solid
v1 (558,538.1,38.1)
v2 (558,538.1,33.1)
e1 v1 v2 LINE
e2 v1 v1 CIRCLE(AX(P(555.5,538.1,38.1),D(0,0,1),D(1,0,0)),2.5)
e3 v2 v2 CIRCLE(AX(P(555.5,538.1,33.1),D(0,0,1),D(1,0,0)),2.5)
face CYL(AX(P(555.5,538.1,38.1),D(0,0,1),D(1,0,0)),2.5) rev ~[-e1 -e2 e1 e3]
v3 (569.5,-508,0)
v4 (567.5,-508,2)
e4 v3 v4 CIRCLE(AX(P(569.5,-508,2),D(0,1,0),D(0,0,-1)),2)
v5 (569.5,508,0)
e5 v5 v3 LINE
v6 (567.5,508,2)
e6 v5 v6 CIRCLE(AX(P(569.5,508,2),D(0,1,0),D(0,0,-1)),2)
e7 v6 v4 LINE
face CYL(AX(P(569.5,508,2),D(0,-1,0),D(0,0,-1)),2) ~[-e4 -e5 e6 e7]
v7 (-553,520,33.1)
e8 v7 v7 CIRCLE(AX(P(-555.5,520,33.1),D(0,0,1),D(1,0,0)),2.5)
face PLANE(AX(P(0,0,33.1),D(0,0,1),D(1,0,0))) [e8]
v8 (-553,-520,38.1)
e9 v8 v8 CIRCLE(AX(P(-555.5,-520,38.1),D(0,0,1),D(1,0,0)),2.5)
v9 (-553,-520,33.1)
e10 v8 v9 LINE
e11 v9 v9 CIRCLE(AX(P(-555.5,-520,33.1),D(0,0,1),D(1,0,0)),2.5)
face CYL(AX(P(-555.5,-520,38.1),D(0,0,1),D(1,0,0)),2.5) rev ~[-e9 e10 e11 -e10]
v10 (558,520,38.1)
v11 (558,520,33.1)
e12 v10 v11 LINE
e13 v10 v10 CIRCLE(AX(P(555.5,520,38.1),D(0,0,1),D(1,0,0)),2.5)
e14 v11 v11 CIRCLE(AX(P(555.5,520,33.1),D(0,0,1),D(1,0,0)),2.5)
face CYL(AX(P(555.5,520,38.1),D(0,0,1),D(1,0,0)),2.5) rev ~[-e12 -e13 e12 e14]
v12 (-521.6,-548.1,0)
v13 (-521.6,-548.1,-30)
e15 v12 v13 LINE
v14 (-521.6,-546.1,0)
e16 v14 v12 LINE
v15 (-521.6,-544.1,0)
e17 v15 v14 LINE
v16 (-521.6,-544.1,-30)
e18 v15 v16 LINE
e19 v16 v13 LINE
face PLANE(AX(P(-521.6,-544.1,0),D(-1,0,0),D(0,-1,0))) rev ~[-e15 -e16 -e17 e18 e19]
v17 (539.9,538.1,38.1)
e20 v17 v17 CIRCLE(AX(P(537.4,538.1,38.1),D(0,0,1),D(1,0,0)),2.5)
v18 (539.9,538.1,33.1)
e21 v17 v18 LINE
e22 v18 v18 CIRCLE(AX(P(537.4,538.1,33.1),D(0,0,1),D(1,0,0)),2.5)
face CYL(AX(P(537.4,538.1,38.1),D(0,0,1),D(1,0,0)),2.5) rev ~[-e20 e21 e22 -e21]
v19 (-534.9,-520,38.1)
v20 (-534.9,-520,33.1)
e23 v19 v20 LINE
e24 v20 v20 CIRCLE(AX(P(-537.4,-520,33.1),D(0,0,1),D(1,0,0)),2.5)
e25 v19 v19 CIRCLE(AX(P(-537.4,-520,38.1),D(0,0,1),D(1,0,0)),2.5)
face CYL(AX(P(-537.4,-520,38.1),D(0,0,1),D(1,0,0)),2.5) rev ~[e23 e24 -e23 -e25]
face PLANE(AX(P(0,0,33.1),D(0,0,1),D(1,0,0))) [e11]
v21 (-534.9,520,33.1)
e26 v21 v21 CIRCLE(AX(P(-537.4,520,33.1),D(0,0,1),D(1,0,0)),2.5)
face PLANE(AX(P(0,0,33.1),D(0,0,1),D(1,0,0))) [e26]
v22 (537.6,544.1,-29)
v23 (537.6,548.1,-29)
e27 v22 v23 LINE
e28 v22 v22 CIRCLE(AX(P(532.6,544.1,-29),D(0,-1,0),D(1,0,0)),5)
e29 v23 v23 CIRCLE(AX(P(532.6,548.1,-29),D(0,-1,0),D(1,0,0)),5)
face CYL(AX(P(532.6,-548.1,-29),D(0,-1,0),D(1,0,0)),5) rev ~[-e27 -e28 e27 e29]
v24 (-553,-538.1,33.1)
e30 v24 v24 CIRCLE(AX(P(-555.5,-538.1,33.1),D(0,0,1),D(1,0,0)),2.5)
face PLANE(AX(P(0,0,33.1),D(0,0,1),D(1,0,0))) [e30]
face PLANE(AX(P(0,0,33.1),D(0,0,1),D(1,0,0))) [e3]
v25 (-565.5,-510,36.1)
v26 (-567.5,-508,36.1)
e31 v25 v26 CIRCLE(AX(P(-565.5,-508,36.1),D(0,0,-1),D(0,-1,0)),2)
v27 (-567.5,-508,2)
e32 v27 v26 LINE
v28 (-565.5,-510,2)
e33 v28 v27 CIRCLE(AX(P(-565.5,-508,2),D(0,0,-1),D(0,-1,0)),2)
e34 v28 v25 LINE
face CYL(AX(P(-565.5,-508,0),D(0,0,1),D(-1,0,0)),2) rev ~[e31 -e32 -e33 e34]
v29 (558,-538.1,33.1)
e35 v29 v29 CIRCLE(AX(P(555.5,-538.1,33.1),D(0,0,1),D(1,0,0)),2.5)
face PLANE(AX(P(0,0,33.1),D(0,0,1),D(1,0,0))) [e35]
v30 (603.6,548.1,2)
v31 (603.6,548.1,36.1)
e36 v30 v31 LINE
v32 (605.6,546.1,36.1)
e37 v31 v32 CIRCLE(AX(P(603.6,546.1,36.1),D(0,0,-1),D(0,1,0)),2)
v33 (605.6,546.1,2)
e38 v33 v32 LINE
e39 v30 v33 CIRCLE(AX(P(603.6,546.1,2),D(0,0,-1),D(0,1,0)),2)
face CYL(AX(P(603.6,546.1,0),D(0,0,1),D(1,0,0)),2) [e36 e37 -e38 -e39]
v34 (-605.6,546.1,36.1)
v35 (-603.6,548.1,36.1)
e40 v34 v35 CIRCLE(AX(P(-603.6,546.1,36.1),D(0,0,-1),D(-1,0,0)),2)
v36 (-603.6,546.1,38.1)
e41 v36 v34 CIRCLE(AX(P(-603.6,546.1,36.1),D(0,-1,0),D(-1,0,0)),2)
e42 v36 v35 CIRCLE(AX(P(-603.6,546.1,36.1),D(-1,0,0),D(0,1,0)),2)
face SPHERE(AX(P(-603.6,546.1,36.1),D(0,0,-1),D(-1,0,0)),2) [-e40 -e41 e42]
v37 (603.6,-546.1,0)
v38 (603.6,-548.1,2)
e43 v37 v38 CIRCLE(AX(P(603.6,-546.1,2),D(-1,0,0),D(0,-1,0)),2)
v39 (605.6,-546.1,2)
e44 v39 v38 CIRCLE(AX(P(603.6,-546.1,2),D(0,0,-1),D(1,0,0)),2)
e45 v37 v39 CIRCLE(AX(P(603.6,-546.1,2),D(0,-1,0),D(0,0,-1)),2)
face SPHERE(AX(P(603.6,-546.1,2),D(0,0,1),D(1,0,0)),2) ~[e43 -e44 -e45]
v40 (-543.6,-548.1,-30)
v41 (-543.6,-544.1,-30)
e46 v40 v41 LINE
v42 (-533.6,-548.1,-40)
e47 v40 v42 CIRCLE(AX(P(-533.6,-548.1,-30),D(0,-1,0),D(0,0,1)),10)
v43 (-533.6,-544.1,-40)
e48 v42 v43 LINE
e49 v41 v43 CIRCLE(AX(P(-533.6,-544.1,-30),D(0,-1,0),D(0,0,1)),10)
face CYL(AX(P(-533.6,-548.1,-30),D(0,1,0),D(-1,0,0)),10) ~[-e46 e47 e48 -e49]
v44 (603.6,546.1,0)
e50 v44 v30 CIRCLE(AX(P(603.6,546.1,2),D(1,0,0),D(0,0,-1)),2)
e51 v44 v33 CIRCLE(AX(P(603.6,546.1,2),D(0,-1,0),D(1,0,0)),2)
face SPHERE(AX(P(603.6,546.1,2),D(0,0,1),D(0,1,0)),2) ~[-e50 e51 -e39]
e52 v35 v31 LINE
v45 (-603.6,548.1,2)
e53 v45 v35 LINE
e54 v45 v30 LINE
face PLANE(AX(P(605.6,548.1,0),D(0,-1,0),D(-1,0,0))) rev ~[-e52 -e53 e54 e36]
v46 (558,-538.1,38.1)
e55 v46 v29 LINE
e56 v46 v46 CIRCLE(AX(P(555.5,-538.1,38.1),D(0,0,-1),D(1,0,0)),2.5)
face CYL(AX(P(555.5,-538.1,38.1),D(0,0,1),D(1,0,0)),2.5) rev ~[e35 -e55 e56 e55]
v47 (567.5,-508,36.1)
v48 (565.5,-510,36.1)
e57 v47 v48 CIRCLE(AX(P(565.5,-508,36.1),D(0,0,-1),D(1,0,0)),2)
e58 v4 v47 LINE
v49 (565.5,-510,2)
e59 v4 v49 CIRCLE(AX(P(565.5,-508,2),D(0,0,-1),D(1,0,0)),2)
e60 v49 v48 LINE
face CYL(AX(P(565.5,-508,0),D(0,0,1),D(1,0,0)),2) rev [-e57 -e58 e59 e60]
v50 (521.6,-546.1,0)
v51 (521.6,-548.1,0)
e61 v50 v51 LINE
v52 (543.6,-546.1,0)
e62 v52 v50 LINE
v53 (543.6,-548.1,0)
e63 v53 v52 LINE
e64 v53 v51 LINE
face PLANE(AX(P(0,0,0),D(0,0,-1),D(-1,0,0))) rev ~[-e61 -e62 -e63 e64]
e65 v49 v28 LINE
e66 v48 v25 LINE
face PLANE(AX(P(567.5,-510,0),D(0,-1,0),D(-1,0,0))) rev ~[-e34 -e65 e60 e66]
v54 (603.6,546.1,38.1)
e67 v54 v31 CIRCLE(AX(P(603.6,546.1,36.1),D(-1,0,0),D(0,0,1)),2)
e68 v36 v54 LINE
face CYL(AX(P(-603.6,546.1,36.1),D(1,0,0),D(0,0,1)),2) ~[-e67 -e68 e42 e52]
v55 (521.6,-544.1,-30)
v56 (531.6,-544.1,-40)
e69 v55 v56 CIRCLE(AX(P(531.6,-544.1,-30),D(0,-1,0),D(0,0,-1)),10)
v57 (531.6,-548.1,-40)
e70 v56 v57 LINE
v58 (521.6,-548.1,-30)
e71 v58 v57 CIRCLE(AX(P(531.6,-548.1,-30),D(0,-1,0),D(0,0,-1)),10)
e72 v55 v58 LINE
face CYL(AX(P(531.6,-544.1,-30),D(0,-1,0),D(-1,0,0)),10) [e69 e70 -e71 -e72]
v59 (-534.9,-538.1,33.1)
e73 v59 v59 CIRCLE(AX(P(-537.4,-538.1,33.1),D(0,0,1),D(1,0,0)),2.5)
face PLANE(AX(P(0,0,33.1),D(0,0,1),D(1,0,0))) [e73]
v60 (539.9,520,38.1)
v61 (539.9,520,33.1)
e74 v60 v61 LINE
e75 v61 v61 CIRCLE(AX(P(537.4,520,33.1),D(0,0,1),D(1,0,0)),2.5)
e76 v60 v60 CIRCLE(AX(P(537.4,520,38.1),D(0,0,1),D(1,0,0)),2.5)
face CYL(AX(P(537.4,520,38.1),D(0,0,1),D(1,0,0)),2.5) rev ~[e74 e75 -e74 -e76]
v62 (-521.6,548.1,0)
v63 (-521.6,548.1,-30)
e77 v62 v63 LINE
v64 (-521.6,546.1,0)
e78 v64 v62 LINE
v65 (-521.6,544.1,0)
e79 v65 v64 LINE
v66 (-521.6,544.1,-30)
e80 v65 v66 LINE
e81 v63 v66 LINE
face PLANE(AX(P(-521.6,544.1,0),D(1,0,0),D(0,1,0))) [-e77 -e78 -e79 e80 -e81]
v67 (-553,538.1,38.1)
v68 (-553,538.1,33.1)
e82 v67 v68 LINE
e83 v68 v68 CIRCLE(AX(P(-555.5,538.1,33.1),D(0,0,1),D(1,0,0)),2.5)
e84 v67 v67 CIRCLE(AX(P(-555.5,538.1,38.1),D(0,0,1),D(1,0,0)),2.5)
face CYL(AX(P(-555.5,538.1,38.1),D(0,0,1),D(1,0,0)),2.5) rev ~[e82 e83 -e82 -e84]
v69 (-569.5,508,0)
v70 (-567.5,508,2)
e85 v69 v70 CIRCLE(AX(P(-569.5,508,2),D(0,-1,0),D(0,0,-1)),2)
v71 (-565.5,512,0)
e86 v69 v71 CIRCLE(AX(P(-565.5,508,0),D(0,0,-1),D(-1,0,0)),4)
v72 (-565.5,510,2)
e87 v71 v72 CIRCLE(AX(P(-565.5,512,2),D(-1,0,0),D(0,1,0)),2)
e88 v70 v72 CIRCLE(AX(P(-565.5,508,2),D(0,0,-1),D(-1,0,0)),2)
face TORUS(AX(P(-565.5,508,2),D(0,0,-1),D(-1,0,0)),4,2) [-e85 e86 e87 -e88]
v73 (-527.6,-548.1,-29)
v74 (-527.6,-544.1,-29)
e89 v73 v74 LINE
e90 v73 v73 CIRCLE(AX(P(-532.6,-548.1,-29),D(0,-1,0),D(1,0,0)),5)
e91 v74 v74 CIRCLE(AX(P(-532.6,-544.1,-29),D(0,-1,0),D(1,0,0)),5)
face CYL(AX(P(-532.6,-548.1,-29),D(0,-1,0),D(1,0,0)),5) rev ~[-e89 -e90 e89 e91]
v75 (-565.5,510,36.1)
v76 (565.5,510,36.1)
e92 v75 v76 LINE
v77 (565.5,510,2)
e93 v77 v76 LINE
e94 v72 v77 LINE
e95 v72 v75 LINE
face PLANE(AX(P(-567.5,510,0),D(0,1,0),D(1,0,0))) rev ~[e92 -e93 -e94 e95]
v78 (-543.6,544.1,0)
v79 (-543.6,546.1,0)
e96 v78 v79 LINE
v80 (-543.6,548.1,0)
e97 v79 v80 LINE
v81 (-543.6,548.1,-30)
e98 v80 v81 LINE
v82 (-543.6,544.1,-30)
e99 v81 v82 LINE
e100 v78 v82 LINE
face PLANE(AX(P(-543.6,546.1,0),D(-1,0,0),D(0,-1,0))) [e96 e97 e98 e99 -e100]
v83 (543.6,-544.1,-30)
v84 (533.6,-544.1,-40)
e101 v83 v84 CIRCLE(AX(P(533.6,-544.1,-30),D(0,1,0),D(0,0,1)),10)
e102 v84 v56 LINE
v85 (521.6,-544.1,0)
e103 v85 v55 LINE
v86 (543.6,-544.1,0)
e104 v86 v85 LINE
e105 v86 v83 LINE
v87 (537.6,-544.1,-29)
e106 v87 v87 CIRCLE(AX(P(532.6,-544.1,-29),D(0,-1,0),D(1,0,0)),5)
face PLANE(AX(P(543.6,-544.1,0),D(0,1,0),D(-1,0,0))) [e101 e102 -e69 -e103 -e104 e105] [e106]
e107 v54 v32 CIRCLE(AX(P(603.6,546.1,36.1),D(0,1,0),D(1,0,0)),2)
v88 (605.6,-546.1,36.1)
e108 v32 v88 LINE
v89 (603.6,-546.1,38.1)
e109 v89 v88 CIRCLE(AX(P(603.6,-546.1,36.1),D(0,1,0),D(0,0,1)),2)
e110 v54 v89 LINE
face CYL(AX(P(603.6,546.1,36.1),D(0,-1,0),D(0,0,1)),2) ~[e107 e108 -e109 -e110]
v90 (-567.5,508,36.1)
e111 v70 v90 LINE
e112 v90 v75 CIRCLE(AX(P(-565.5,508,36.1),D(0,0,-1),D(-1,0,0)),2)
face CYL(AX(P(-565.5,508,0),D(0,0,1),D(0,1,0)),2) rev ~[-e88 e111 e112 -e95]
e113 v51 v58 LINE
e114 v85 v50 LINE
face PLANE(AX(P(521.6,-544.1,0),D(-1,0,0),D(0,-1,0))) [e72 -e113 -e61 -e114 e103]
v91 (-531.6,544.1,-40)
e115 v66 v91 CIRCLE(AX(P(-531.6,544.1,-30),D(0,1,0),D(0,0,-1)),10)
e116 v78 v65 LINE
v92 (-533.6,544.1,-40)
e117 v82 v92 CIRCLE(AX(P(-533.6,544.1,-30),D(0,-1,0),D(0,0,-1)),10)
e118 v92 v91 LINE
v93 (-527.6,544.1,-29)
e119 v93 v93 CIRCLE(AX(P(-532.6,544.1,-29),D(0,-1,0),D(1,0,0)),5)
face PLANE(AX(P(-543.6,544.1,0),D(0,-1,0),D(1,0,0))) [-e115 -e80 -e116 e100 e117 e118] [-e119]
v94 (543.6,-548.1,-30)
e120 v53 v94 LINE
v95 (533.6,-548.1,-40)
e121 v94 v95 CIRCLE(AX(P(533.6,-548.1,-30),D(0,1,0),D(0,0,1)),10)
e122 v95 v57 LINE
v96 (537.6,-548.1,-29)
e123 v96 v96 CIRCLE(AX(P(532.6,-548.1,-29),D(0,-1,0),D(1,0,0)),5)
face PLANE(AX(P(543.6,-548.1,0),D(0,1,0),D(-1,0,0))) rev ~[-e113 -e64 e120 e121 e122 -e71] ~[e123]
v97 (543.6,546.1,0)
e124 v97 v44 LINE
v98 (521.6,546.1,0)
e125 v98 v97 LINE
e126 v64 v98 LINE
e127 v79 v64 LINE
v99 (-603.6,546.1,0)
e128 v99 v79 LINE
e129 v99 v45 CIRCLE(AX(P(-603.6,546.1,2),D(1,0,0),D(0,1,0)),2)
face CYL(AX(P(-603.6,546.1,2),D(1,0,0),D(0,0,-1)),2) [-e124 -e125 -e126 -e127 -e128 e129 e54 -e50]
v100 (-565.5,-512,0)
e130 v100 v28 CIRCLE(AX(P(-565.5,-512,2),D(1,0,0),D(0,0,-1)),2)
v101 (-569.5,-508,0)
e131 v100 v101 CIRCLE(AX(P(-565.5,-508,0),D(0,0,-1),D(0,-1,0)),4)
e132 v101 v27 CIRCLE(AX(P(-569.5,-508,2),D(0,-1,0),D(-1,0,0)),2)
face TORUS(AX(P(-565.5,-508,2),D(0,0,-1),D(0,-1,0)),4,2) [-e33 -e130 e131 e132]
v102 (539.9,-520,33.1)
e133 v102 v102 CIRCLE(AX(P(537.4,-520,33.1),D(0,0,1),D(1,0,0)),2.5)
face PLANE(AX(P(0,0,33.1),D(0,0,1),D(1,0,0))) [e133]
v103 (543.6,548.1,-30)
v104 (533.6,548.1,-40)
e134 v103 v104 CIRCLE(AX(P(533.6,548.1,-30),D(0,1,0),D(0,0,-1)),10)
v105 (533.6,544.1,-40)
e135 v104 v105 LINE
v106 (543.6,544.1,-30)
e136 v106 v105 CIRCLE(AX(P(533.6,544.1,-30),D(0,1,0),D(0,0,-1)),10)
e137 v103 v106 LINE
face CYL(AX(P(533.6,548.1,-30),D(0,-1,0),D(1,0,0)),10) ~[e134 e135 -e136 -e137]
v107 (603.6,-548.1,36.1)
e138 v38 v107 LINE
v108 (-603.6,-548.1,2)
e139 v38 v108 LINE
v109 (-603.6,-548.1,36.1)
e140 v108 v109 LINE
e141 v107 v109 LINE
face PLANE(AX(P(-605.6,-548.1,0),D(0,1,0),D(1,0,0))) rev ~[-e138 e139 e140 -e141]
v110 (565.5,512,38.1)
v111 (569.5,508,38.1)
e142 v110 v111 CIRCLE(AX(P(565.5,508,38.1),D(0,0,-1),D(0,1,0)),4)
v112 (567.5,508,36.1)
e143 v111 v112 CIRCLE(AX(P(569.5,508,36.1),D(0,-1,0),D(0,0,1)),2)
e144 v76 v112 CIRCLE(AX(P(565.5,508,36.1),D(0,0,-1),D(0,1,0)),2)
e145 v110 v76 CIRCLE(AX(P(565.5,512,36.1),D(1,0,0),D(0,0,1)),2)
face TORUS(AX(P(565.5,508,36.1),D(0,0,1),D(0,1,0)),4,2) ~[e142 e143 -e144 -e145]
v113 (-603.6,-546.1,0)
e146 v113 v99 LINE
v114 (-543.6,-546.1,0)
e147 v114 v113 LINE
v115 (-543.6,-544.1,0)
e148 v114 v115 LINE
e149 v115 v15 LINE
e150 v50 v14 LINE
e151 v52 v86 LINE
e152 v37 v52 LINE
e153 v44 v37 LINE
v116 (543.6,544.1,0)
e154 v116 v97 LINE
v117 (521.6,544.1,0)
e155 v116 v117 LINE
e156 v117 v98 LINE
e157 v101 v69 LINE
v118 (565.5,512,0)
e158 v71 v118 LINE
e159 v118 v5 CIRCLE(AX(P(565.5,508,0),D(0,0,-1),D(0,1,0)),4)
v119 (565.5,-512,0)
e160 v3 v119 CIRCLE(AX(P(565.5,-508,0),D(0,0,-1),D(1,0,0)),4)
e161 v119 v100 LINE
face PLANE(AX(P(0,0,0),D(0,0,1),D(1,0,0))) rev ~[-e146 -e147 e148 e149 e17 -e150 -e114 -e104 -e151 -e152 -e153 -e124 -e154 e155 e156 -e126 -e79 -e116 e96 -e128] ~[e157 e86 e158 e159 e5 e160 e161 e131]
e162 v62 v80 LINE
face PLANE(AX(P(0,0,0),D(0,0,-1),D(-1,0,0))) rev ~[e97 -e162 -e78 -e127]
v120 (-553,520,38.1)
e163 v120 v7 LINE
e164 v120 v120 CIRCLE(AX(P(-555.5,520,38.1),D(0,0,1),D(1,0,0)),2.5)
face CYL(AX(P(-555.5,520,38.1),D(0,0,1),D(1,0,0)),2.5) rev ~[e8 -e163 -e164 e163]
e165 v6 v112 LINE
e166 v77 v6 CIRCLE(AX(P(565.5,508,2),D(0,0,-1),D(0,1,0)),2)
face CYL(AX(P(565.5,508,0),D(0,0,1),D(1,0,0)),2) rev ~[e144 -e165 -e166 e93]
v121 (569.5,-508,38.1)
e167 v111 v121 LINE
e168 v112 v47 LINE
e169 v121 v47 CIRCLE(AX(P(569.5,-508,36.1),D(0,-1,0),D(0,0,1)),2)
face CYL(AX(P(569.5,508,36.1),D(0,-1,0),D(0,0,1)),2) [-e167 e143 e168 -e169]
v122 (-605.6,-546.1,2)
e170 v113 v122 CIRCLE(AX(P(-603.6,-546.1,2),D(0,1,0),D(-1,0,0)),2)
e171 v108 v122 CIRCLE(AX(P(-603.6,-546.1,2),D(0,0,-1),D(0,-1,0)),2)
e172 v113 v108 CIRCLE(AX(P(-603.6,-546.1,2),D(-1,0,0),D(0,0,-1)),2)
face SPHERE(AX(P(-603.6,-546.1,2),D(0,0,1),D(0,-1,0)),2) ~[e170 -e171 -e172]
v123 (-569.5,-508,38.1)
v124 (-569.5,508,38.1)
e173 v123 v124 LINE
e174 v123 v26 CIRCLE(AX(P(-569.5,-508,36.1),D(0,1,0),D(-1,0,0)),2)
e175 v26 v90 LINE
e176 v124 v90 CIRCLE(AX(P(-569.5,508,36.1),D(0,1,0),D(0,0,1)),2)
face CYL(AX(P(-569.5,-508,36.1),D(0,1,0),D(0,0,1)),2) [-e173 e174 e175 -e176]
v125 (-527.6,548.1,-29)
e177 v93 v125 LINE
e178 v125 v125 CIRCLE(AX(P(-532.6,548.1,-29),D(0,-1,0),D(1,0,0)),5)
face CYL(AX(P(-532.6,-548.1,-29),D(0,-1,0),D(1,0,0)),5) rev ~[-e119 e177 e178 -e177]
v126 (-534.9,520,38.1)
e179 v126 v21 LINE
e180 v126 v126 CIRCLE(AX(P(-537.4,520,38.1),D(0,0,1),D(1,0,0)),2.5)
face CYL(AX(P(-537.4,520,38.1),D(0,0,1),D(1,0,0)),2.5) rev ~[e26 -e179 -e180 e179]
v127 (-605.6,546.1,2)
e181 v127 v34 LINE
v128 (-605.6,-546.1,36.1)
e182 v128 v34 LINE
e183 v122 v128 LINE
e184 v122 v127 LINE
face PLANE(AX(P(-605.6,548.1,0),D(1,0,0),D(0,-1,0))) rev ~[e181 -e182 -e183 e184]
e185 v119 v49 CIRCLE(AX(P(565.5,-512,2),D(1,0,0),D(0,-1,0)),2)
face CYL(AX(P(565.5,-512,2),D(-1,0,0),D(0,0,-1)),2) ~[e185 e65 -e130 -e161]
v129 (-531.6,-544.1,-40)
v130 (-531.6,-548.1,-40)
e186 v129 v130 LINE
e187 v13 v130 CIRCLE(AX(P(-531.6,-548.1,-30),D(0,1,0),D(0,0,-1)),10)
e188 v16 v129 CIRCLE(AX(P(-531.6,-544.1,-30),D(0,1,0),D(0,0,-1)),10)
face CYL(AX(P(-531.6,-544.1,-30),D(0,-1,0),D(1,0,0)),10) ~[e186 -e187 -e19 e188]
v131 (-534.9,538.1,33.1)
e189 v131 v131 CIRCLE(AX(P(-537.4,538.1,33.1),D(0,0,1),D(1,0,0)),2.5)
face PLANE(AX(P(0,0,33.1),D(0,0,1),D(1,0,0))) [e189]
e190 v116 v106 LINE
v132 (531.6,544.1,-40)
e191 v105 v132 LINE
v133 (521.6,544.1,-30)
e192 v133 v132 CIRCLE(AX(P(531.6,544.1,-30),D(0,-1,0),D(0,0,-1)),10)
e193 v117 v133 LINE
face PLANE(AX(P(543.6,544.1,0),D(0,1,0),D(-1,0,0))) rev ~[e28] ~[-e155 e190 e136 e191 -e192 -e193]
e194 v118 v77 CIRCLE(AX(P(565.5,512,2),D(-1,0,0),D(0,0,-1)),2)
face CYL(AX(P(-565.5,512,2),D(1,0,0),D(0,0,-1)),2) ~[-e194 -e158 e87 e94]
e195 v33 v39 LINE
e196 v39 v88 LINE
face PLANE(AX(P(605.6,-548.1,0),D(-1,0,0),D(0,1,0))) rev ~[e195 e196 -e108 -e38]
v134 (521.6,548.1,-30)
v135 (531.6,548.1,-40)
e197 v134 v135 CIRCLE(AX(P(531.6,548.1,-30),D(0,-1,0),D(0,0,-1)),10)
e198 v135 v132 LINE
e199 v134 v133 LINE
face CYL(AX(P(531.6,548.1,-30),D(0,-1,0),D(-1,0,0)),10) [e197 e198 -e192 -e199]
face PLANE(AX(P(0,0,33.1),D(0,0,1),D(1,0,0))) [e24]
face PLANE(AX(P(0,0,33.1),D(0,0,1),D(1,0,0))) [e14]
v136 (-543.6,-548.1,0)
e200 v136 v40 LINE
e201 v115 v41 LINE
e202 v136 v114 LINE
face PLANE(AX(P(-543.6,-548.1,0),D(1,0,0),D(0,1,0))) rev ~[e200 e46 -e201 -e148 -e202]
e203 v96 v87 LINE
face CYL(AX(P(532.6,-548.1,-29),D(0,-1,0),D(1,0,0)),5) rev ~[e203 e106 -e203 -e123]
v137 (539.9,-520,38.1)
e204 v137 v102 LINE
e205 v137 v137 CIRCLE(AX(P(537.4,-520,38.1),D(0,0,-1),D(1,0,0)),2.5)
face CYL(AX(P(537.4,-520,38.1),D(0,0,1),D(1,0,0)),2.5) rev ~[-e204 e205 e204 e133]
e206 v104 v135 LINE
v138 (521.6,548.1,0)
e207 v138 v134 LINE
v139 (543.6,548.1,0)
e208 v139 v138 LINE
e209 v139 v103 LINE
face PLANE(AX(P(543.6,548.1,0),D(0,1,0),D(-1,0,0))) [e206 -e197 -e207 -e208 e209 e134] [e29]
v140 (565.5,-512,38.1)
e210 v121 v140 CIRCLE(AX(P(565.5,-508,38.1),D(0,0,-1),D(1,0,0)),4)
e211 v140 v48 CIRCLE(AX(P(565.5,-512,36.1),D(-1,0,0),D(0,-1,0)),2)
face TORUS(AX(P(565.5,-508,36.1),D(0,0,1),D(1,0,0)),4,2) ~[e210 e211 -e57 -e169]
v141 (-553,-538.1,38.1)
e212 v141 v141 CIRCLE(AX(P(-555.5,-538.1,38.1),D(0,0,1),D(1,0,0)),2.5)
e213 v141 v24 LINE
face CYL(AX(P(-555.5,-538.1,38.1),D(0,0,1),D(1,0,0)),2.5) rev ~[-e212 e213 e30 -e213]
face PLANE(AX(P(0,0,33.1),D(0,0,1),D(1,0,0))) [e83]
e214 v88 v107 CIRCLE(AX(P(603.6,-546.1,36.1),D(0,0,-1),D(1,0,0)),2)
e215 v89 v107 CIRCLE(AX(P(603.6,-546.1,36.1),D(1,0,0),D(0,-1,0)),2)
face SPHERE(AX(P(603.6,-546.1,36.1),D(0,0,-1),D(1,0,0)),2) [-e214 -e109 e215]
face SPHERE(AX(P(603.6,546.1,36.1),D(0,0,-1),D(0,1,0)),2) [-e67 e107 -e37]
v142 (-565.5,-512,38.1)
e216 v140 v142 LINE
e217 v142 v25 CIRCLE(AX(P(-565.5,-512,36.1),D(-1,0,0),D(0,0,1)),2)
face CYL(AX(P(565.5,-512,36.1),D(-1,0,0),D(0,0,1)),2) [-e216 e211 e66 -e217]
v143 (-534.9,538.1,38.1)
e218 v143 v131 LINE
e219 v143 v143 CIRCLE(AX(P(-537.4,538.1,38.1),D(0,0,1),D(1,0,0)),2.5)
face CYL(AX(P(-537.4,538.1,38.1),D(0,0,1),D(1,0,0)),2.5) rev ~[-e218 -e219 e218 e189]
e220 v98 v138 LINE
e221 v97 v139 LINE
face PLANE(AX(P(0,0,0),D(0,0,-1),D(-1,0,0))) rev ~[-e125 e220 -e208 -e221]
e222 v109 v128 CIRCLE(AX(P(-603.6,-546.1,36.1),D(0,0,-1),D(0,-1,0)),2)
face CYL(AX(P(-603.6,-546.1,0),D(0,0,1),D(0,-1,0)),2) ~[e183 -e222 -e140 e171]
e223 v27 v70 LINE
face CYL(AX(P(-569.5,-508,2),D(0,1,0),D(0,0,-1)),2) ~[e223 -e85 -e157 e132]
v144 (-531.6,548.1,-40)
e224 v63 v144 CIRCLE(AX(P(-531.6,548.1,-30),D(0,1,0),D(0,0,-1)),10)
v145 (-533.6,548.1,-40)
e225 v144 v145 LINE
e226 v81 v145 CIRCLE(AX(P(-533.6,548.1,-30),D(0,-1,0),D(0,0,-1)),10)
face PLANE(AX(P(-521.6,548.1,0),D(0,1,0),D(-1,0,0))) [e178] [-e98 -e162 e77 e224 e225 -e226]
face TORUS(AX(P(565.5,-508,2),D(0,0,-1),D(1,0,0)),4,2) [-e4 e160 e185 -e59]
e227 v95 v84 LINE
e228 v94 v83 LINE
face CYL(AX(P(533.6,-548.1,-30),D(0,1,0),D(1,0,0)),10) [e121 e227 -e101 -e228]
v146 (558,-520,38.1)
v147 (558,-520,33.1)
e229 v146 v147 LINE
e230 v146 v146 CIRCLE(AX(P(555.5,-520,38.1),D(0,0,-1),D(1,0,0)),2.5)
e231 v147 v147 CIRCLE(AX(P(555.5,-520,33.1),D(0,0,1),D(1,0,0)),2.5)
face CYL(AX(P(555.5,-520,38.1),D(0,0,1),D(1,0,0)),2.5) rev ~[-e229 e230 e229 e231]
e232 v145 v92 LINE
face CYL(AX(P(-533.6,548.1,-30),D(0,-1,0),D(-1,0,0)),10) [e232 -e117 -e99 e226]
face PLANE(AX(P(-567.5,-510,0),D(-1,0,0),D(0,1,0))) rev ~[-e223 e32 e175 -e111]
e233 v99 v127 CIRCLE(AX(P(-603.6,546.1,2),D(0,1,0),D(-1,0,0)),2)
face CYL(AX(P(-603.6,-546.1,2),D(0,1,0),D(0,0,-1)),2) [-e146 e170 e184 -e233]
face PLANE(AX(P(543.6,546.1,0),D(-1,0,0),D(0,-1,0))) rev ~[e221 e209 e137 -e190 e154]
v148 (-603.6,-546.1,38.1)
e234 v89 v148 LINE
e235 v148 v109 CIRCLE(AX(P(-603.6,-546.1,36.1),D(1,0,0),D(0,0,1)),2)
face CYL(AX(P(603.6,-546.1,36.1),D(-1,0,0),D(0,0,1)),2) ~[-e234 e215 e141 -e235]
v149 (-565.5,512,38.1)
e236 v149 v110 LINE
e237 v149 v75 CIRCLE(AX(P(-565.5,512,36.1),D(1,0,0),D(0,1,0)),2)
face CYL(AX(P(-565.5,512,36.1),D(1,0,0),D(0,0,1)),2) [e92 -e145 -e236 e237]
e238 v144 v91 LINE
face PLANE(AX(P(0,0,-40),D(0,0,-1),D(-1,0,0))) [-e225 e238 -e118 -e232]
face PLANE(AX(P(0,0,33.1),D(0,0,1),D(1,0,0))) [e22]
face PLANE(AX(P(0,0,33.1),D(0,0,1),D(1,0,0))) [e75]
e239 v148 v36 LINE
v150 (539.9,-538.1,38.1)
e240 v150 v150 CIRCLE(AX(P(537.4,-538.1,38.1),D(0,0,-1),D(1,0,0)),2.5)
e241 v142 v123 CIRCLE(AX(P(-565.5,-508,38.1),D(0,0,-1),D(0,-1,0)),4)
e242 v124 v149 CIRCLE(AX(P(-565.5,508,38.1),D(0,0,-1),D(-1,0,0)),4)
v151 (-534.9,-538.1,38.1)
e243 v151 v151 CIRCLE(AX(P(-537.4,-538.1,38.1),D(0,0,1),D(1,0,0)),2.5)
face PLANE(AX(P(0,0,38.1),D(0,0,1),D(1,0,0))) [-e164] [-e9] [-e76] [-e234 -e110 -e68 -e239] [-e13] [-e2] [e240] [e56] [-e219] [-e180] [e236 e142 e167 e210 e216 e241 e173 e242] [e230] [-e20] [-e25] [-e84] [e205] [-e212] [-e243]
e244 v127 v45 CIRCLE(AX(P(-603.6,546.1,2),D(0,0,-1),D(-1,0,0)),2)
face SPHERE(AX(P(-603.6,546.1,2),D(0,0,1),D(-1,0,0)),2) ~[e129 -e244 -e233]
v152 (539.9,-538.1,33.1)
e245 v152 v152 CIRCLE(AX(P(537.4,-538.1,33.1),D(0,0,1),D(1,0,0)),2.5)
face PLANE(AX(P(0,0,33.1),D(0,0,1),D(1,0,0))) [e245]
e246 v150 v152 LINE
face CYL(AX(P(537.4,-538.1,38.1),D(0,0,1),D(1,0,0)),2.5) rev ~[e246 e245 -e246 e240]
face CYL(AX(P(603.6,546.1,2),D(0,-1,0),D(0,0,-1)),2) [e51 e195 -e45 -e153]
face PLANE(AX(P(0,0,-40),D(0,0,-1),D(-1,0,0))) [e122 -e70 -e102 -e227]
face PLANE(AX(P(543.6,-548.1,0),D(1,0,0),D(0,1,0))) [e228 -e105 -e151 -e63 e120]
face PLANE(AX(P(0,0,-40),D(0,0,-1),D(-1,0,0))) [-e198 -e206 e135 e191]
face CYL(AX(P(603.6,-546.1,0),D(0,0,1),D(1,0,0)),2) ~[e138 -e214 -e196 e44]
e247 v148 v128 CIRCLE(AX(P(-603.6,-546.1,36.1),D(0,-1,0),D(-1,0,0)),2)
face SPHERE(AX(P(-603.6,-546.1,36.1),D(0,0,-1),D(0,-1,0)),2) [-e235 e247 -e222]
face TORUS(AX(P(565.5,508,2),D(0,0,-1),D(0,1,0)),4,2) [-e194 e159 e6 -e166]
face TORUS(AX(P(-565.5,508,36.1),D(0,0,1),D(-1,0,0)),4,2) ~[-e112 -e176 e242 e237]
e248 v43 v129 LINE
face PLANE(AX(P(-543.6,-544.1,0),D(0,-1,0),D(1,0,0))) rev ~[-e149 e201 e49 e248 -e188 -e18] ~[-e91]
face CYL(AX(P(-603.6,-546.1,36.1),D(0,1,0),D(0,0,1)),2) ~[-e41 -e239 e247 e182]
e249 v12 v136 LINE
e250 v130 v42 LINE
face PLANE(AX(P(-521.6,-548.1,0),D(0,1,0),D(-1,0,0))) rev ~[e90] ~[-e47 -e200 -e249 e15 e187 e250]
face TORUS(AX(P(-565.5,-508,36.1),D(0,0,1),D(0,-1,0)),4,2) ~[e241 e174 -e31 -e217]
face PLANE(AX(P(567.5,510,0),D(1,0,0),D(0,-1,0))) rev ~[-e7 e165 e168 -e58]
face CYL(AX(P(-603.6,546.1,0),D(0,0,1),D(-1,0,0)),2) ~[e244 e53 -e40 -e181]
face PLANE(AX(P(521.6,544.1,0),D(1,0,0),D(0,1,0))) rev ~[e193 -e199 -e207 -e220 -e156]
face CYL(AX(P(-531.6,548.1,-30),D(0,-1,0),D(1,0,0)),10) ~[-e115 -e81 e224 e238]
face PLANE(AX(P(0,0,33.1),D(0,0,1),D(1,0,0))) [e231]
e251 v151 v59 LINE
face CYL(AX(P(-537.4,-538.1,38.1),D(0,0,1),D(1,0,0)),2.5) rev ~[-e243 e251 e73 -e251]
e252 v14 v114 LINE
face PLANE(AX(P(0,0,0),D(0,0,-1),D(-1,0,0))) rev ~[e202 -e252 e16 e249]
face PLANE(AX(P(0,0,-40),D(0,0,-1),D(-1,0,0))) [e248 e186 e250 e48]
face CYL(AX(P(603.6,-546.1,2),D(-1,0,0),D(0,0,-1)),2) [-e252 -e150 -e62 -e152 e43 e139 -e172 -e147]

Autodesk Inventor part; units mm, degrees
ref_plane "YZ Plane" through (0, 0, 0) normal (1, 0, 0) x (0, 1, 0)
ref_plane "XZ Plane" through (0, 0, 0) normal (0, 1, 0) x (-1, 0, 0)
ref_plane "XY Plane" through (0, 0, 0) normal (0, 0, 1) x (1, 0, 0)
sketch "Boceto1" plane through (0, 0, 0) normal (0, 0, 1) x (1, 0, 0)
  line L0 (567.5, -510) -> (-567.5, -510)
  line L1 (-567.5, -510) -> (-567.5, 510)
  line L2 (-567.5, 510) -> (567.5, 510)
  line L3 (567.5, 510) -> (567.5, -510)
  line L4 (567.5, -510) -> (-567.5, 510) construction
  line L5 (-567.5, -510) -> (567.5, 510) construction
  line L6 (605.6, 548.1) -> (-605.6, 548.1)
  line L7 (-605.6, 548.1) -> (-605.6, -548.1)
  line L8 (-605.6, -548.1) -> (605.6, -548.1)
  line L9 (605.6, -548.1) -> (605.6, 548.1)
  point P0 (0, 0)
  dimension "d0" = 1135
  dimension "d1" = 1020
  dimension "d2" = 38.1
extrude "Extrusión1" add sketch "Boceto1" along normal blind 38.1
fillet "Empalme1" radius 2 8 edges at (605.6, 548.1, 19.05) (605.6, -548.1, 19.05) (-605.6, 548.1, 19.05) (-605.6, -548.1, 19.05) (-567.5, -510, 19.05) (-567.5, 510, 19.05) (567.5, 510, 19.05) (567.5, -510, 19.05)
fillet "Empalme2" radius 2 24 edges at (-605.0142, 547.5142, 38.1) (-605.6, 0, 38.1) (-605.0142, -547.5142, 38.1) (0, -548.1, 38.1) (605.0142, -547.5142, 38.1) (605.6, 0, 38.1) (605.0142, 547.5142, 38.1) (0, 548.1, 38.1) (567.5, 0, 38.1) (0, -510, 38.1) (-567.5, 0, 38.1) (0, 510, 38.1) (-605.0142, 547.5142, 0) (-605.6, 0, 0) (-605.0142, -547.5142, 0) (0, -548.1, 0) (605.0142, -547.5142, 0) (605.6, 0, 0) (605.0142, 547.5142, 0) (0, 548.1, 0) (567.5, 0, 0) (0, -510, 0) (-567.5, 0, 0) (0, 510, 0)
sketch "Boceto2" plane through (0, 0, 0) normal (0, 0, -1) x (-1, 0, 0)
  line L0 (-603.6, 546.1) -> (-603.6, -546.1) projected
  line L1 (-603.6, 546.1) -> (-543.6, 546.1)
  line L2 (603.6, 546.1) -> (-603.6, 546.1) projected
  line L3 (-603.6, 548.1) -> (603.6, 548.1) projected
  line L4 (-543.6, 548.1) -> (-547.6, 548.1)
  line L5 (-543.6, 548.1) -> (-543.6, 544.1)
  line L6 (-543.6, 544.1) -> (-521.6, 544.1)
  line L7 (-521.6, 544.1) -> (-521.6, 548.1)
  line L8 (-521.6, 548.1) -> (-543.6, 548.1)
  line L9 (-543.6, 548.1) -> (-543.6, 544.1)
  line L10 (0, 548.1) -> (0, -512)
  line L11 (565.5, -512) -> (-565.5, -512) projected
  line L12 (-565.5, 0) -> (567.5, 0)
  line L13 (567.5, -508) -> (567.5, 508) projected
  line L14 (-603.6, -548.1) -> (603.6, -548.1)
  line L15 (-543.6, -548.1) -> (-543.6, -544.1)
  line L16 (-543.6, -544.1) -> (-521.6, -544.1)
  line L17 (-521.6, -544.1) -> (-521.6, -548.1)
  line L18 (543.6, 548.1) -> (543.6, 544.1)
  line L19 (543.6, 544.1) -> (521.6, 544.1)
  line L20 (521.6, 544.1) -> (521.6, 548.1)
  line L21 (521.6, 548.1) -> (543.6, 548.1)
  line L22 (543.6, -544.1) -> (521.6, -544.1)
  line L23 (521.6, -544.1) -> (521.6, -548.1)
  line L24 (603.6, -548.1) -> (-603.6, -548.1)
  line L25 (543.6, -548.1) -> (543.6, -544.1)
  point P0 (0, 0)
  point P1 (543.6, 546.1)
  dimension "d7" = 60
  dimension "d8" = 4
  dimension "d9" = 4
  dimension "d10" = 22
extrude "Extrusión2" add sketch "Boceto2" along normal blind 40 contours L18 L19 L20 L2 | L2 L20 L3 L18 | L7 L6 L5 L2 | L2 L5 L3 L7 | L15 L16 L17 L14 | L23 L22 L25 L14
fillet "Empalme3" radius 10 8 edges at (543.6, -546.1, -40) (521.6, -546.1, -40) (543.6, 546.1, -40) (521.6, 546.1, -40) (-521.6, 546.1, -40) (-543.6, 546.1, -40) (-543.6, -546.1, -40) (-521.6, -546.1, -40)
sketch "Boceto3" plane through (521.6, -548.1, 0) normal (0, -1, 0) x (1, 0, 0)
  line L0 (22, 0) -> (0, 0) projected
  line L1 (0, 0) -> (22, 0)
  line L2 (22, 0) -> (22, -40)
  line L3 (22, -40) -> (0, -40)
  line L4 (0, -40) -> (0, 0)
  circle A0 centre (11, -29) radius 11
  circle A1 centre (11, -29) radius 5
  point P0 (-521.6, 0)
  dimension "d14" = 10
extrude "Extrusión3" cut sketch "Boceto3" against normal blind 20000 contours A1
sketch "Boceto4" plane through (-543.6, -548.1, 0) normal (0, -1, 0) x (1, 0, 0)
  line L0 (0, 0) -> (0, -30) projected
  line L1 (0, 0) -> (22, 0)
  line L2 (22, 0) -> (22, -40)
  line L3 (22, -40) -> (0, -40)
  line L4 (0, -40) -> (0, 0)
  circle A0 centre (11, -29) radius 11
  circle A1 centre (11, -29) radius 5
  point P0 (543.6, 0)
  dimension "d17" = 10
extrude "Extrusión4" cut sketch "Boceto4" against normal blind 20000 contours A1
sketch "Boceto5" plane through (0, 0, 38.1) normal (0, 0, 1) x (1, 0, 0)
  line L0 (-565.5, 510) -> (565.5, 510) projected
  line L1 (565.5, -510) -> (-565.5, -510) projected
  point P0 (0, 0)
  dimension "d20" = 1020
sketch "Boceto6" plane through (0, 0, 38.1) normal (0, 0, 1) x (1, 0, 0)
  line L0 (565.5, -510) -> (-565.5, -510) projected
  line L1 (543.6, -548.1) -> (521.6, -548.1) projected
  line L2 (565.5, -510) -> (527.4, -510)
  line L3 (527.4, -510) -> (527.4, -548.1)
  line L4 (527.4, -548.1) -> (565.5, -548.1)
  line L5 (565.5, -548.1) -> (565.5, -510)
  line L6 (555.5, -538.1) -> (537.4, -538.1)
  line L7 (537.4, -538.1) -> (537.4, -520)
  line L8 (537.4, -520) -> (555.5, -520)
  line L9 (555.5, -520) -> (555.5, -538.1)
  circle A0 centre (555.5, -538.1) radius 2.5
  circle A1 centre (555.5, -520) radius 2.5
  circle A2 centre (537.4, -538.1) radius 2.5
  circle A3 centre (537.4, -520) radius 2.5
  line L10 (0, 0) -> (0, -570.6664)
  line L11 (0, 0) -> (796.3032, 0)
  line L12 (-565.5, -510) -> (-527.4, -510)
  line L13 (-527.4, -510) -> (-527.4, -548.1)
  line L14 (-527.4, -548.1) -> (-565.5, -548.1)
  line L15 (-565.5, -548.1) -> (-565.5, -510)
  circle A4 centre (-555.5, -538.1) radius 2.5
  circle A5 centre (-555.5, -520) radius 2.5
  circle A6 centre (-537.4, -538.1) radius 2.5
  circle A7 centre (-537.4, -520) radius 2.5
  line L16 (565.5, 510) -> (-565.5, 510)
  line L17 (527.4, 510) -> (527.4, 548.1)
  line L18 (527.4, 548.1) -> (565.5, 548.1)
  line L19 (565.5, 548.1) -> (565.5, 510)
  circle A8 centre (555.5, 538.1) radius 2.5
  circle A9 centre (555.5, 520) radius 2.5
  circle A10 centre (537.4, 538.1) radius 2.5
  circle A11 centre (537.4, 520) radius 2.5
  line L20 (-527.4, 510) -> (-527.4, 548.1)
  line L21 (-527.4, 548.1) -> (-565.5, 548.1)
  line L22 (-565.5, 548.1) -> (-565.5, 510)
  circle A12 centre (-555.5, 538.1) radius 2.5
  circle A13 centre (-537.4, 538.1) radius 2.5
  circle A14 centre (-537.4, 520) radius 2.5
  circle A15 centre (-555.5, 520) radius 2.5
  line L23 (-565.5, 510) -> (-527.4, 510)
  dimension "d21" = 38.1
  dimension "d22" = 10
  dimension "d23" = 5
  dimension "d24" = 5
  dimension "d25" = 5
  dimension "d26" = 5
extrude "Extrusión5" cut sketch "Boceto6" against normal blind 5 contours A2 L7 L6 | L6 L7 A2 | A0 L9 L6 | L6 L9 A0 | A3 L8 L7 | L7 L8 A3 | A1 L8 L9 | L9 L8 A1 | A4 | A5 | A6 | A7 | A8 | A9 | A10 | A11 | A12 | A13 | A14 | A15
equation "\"d27\" = d24"
